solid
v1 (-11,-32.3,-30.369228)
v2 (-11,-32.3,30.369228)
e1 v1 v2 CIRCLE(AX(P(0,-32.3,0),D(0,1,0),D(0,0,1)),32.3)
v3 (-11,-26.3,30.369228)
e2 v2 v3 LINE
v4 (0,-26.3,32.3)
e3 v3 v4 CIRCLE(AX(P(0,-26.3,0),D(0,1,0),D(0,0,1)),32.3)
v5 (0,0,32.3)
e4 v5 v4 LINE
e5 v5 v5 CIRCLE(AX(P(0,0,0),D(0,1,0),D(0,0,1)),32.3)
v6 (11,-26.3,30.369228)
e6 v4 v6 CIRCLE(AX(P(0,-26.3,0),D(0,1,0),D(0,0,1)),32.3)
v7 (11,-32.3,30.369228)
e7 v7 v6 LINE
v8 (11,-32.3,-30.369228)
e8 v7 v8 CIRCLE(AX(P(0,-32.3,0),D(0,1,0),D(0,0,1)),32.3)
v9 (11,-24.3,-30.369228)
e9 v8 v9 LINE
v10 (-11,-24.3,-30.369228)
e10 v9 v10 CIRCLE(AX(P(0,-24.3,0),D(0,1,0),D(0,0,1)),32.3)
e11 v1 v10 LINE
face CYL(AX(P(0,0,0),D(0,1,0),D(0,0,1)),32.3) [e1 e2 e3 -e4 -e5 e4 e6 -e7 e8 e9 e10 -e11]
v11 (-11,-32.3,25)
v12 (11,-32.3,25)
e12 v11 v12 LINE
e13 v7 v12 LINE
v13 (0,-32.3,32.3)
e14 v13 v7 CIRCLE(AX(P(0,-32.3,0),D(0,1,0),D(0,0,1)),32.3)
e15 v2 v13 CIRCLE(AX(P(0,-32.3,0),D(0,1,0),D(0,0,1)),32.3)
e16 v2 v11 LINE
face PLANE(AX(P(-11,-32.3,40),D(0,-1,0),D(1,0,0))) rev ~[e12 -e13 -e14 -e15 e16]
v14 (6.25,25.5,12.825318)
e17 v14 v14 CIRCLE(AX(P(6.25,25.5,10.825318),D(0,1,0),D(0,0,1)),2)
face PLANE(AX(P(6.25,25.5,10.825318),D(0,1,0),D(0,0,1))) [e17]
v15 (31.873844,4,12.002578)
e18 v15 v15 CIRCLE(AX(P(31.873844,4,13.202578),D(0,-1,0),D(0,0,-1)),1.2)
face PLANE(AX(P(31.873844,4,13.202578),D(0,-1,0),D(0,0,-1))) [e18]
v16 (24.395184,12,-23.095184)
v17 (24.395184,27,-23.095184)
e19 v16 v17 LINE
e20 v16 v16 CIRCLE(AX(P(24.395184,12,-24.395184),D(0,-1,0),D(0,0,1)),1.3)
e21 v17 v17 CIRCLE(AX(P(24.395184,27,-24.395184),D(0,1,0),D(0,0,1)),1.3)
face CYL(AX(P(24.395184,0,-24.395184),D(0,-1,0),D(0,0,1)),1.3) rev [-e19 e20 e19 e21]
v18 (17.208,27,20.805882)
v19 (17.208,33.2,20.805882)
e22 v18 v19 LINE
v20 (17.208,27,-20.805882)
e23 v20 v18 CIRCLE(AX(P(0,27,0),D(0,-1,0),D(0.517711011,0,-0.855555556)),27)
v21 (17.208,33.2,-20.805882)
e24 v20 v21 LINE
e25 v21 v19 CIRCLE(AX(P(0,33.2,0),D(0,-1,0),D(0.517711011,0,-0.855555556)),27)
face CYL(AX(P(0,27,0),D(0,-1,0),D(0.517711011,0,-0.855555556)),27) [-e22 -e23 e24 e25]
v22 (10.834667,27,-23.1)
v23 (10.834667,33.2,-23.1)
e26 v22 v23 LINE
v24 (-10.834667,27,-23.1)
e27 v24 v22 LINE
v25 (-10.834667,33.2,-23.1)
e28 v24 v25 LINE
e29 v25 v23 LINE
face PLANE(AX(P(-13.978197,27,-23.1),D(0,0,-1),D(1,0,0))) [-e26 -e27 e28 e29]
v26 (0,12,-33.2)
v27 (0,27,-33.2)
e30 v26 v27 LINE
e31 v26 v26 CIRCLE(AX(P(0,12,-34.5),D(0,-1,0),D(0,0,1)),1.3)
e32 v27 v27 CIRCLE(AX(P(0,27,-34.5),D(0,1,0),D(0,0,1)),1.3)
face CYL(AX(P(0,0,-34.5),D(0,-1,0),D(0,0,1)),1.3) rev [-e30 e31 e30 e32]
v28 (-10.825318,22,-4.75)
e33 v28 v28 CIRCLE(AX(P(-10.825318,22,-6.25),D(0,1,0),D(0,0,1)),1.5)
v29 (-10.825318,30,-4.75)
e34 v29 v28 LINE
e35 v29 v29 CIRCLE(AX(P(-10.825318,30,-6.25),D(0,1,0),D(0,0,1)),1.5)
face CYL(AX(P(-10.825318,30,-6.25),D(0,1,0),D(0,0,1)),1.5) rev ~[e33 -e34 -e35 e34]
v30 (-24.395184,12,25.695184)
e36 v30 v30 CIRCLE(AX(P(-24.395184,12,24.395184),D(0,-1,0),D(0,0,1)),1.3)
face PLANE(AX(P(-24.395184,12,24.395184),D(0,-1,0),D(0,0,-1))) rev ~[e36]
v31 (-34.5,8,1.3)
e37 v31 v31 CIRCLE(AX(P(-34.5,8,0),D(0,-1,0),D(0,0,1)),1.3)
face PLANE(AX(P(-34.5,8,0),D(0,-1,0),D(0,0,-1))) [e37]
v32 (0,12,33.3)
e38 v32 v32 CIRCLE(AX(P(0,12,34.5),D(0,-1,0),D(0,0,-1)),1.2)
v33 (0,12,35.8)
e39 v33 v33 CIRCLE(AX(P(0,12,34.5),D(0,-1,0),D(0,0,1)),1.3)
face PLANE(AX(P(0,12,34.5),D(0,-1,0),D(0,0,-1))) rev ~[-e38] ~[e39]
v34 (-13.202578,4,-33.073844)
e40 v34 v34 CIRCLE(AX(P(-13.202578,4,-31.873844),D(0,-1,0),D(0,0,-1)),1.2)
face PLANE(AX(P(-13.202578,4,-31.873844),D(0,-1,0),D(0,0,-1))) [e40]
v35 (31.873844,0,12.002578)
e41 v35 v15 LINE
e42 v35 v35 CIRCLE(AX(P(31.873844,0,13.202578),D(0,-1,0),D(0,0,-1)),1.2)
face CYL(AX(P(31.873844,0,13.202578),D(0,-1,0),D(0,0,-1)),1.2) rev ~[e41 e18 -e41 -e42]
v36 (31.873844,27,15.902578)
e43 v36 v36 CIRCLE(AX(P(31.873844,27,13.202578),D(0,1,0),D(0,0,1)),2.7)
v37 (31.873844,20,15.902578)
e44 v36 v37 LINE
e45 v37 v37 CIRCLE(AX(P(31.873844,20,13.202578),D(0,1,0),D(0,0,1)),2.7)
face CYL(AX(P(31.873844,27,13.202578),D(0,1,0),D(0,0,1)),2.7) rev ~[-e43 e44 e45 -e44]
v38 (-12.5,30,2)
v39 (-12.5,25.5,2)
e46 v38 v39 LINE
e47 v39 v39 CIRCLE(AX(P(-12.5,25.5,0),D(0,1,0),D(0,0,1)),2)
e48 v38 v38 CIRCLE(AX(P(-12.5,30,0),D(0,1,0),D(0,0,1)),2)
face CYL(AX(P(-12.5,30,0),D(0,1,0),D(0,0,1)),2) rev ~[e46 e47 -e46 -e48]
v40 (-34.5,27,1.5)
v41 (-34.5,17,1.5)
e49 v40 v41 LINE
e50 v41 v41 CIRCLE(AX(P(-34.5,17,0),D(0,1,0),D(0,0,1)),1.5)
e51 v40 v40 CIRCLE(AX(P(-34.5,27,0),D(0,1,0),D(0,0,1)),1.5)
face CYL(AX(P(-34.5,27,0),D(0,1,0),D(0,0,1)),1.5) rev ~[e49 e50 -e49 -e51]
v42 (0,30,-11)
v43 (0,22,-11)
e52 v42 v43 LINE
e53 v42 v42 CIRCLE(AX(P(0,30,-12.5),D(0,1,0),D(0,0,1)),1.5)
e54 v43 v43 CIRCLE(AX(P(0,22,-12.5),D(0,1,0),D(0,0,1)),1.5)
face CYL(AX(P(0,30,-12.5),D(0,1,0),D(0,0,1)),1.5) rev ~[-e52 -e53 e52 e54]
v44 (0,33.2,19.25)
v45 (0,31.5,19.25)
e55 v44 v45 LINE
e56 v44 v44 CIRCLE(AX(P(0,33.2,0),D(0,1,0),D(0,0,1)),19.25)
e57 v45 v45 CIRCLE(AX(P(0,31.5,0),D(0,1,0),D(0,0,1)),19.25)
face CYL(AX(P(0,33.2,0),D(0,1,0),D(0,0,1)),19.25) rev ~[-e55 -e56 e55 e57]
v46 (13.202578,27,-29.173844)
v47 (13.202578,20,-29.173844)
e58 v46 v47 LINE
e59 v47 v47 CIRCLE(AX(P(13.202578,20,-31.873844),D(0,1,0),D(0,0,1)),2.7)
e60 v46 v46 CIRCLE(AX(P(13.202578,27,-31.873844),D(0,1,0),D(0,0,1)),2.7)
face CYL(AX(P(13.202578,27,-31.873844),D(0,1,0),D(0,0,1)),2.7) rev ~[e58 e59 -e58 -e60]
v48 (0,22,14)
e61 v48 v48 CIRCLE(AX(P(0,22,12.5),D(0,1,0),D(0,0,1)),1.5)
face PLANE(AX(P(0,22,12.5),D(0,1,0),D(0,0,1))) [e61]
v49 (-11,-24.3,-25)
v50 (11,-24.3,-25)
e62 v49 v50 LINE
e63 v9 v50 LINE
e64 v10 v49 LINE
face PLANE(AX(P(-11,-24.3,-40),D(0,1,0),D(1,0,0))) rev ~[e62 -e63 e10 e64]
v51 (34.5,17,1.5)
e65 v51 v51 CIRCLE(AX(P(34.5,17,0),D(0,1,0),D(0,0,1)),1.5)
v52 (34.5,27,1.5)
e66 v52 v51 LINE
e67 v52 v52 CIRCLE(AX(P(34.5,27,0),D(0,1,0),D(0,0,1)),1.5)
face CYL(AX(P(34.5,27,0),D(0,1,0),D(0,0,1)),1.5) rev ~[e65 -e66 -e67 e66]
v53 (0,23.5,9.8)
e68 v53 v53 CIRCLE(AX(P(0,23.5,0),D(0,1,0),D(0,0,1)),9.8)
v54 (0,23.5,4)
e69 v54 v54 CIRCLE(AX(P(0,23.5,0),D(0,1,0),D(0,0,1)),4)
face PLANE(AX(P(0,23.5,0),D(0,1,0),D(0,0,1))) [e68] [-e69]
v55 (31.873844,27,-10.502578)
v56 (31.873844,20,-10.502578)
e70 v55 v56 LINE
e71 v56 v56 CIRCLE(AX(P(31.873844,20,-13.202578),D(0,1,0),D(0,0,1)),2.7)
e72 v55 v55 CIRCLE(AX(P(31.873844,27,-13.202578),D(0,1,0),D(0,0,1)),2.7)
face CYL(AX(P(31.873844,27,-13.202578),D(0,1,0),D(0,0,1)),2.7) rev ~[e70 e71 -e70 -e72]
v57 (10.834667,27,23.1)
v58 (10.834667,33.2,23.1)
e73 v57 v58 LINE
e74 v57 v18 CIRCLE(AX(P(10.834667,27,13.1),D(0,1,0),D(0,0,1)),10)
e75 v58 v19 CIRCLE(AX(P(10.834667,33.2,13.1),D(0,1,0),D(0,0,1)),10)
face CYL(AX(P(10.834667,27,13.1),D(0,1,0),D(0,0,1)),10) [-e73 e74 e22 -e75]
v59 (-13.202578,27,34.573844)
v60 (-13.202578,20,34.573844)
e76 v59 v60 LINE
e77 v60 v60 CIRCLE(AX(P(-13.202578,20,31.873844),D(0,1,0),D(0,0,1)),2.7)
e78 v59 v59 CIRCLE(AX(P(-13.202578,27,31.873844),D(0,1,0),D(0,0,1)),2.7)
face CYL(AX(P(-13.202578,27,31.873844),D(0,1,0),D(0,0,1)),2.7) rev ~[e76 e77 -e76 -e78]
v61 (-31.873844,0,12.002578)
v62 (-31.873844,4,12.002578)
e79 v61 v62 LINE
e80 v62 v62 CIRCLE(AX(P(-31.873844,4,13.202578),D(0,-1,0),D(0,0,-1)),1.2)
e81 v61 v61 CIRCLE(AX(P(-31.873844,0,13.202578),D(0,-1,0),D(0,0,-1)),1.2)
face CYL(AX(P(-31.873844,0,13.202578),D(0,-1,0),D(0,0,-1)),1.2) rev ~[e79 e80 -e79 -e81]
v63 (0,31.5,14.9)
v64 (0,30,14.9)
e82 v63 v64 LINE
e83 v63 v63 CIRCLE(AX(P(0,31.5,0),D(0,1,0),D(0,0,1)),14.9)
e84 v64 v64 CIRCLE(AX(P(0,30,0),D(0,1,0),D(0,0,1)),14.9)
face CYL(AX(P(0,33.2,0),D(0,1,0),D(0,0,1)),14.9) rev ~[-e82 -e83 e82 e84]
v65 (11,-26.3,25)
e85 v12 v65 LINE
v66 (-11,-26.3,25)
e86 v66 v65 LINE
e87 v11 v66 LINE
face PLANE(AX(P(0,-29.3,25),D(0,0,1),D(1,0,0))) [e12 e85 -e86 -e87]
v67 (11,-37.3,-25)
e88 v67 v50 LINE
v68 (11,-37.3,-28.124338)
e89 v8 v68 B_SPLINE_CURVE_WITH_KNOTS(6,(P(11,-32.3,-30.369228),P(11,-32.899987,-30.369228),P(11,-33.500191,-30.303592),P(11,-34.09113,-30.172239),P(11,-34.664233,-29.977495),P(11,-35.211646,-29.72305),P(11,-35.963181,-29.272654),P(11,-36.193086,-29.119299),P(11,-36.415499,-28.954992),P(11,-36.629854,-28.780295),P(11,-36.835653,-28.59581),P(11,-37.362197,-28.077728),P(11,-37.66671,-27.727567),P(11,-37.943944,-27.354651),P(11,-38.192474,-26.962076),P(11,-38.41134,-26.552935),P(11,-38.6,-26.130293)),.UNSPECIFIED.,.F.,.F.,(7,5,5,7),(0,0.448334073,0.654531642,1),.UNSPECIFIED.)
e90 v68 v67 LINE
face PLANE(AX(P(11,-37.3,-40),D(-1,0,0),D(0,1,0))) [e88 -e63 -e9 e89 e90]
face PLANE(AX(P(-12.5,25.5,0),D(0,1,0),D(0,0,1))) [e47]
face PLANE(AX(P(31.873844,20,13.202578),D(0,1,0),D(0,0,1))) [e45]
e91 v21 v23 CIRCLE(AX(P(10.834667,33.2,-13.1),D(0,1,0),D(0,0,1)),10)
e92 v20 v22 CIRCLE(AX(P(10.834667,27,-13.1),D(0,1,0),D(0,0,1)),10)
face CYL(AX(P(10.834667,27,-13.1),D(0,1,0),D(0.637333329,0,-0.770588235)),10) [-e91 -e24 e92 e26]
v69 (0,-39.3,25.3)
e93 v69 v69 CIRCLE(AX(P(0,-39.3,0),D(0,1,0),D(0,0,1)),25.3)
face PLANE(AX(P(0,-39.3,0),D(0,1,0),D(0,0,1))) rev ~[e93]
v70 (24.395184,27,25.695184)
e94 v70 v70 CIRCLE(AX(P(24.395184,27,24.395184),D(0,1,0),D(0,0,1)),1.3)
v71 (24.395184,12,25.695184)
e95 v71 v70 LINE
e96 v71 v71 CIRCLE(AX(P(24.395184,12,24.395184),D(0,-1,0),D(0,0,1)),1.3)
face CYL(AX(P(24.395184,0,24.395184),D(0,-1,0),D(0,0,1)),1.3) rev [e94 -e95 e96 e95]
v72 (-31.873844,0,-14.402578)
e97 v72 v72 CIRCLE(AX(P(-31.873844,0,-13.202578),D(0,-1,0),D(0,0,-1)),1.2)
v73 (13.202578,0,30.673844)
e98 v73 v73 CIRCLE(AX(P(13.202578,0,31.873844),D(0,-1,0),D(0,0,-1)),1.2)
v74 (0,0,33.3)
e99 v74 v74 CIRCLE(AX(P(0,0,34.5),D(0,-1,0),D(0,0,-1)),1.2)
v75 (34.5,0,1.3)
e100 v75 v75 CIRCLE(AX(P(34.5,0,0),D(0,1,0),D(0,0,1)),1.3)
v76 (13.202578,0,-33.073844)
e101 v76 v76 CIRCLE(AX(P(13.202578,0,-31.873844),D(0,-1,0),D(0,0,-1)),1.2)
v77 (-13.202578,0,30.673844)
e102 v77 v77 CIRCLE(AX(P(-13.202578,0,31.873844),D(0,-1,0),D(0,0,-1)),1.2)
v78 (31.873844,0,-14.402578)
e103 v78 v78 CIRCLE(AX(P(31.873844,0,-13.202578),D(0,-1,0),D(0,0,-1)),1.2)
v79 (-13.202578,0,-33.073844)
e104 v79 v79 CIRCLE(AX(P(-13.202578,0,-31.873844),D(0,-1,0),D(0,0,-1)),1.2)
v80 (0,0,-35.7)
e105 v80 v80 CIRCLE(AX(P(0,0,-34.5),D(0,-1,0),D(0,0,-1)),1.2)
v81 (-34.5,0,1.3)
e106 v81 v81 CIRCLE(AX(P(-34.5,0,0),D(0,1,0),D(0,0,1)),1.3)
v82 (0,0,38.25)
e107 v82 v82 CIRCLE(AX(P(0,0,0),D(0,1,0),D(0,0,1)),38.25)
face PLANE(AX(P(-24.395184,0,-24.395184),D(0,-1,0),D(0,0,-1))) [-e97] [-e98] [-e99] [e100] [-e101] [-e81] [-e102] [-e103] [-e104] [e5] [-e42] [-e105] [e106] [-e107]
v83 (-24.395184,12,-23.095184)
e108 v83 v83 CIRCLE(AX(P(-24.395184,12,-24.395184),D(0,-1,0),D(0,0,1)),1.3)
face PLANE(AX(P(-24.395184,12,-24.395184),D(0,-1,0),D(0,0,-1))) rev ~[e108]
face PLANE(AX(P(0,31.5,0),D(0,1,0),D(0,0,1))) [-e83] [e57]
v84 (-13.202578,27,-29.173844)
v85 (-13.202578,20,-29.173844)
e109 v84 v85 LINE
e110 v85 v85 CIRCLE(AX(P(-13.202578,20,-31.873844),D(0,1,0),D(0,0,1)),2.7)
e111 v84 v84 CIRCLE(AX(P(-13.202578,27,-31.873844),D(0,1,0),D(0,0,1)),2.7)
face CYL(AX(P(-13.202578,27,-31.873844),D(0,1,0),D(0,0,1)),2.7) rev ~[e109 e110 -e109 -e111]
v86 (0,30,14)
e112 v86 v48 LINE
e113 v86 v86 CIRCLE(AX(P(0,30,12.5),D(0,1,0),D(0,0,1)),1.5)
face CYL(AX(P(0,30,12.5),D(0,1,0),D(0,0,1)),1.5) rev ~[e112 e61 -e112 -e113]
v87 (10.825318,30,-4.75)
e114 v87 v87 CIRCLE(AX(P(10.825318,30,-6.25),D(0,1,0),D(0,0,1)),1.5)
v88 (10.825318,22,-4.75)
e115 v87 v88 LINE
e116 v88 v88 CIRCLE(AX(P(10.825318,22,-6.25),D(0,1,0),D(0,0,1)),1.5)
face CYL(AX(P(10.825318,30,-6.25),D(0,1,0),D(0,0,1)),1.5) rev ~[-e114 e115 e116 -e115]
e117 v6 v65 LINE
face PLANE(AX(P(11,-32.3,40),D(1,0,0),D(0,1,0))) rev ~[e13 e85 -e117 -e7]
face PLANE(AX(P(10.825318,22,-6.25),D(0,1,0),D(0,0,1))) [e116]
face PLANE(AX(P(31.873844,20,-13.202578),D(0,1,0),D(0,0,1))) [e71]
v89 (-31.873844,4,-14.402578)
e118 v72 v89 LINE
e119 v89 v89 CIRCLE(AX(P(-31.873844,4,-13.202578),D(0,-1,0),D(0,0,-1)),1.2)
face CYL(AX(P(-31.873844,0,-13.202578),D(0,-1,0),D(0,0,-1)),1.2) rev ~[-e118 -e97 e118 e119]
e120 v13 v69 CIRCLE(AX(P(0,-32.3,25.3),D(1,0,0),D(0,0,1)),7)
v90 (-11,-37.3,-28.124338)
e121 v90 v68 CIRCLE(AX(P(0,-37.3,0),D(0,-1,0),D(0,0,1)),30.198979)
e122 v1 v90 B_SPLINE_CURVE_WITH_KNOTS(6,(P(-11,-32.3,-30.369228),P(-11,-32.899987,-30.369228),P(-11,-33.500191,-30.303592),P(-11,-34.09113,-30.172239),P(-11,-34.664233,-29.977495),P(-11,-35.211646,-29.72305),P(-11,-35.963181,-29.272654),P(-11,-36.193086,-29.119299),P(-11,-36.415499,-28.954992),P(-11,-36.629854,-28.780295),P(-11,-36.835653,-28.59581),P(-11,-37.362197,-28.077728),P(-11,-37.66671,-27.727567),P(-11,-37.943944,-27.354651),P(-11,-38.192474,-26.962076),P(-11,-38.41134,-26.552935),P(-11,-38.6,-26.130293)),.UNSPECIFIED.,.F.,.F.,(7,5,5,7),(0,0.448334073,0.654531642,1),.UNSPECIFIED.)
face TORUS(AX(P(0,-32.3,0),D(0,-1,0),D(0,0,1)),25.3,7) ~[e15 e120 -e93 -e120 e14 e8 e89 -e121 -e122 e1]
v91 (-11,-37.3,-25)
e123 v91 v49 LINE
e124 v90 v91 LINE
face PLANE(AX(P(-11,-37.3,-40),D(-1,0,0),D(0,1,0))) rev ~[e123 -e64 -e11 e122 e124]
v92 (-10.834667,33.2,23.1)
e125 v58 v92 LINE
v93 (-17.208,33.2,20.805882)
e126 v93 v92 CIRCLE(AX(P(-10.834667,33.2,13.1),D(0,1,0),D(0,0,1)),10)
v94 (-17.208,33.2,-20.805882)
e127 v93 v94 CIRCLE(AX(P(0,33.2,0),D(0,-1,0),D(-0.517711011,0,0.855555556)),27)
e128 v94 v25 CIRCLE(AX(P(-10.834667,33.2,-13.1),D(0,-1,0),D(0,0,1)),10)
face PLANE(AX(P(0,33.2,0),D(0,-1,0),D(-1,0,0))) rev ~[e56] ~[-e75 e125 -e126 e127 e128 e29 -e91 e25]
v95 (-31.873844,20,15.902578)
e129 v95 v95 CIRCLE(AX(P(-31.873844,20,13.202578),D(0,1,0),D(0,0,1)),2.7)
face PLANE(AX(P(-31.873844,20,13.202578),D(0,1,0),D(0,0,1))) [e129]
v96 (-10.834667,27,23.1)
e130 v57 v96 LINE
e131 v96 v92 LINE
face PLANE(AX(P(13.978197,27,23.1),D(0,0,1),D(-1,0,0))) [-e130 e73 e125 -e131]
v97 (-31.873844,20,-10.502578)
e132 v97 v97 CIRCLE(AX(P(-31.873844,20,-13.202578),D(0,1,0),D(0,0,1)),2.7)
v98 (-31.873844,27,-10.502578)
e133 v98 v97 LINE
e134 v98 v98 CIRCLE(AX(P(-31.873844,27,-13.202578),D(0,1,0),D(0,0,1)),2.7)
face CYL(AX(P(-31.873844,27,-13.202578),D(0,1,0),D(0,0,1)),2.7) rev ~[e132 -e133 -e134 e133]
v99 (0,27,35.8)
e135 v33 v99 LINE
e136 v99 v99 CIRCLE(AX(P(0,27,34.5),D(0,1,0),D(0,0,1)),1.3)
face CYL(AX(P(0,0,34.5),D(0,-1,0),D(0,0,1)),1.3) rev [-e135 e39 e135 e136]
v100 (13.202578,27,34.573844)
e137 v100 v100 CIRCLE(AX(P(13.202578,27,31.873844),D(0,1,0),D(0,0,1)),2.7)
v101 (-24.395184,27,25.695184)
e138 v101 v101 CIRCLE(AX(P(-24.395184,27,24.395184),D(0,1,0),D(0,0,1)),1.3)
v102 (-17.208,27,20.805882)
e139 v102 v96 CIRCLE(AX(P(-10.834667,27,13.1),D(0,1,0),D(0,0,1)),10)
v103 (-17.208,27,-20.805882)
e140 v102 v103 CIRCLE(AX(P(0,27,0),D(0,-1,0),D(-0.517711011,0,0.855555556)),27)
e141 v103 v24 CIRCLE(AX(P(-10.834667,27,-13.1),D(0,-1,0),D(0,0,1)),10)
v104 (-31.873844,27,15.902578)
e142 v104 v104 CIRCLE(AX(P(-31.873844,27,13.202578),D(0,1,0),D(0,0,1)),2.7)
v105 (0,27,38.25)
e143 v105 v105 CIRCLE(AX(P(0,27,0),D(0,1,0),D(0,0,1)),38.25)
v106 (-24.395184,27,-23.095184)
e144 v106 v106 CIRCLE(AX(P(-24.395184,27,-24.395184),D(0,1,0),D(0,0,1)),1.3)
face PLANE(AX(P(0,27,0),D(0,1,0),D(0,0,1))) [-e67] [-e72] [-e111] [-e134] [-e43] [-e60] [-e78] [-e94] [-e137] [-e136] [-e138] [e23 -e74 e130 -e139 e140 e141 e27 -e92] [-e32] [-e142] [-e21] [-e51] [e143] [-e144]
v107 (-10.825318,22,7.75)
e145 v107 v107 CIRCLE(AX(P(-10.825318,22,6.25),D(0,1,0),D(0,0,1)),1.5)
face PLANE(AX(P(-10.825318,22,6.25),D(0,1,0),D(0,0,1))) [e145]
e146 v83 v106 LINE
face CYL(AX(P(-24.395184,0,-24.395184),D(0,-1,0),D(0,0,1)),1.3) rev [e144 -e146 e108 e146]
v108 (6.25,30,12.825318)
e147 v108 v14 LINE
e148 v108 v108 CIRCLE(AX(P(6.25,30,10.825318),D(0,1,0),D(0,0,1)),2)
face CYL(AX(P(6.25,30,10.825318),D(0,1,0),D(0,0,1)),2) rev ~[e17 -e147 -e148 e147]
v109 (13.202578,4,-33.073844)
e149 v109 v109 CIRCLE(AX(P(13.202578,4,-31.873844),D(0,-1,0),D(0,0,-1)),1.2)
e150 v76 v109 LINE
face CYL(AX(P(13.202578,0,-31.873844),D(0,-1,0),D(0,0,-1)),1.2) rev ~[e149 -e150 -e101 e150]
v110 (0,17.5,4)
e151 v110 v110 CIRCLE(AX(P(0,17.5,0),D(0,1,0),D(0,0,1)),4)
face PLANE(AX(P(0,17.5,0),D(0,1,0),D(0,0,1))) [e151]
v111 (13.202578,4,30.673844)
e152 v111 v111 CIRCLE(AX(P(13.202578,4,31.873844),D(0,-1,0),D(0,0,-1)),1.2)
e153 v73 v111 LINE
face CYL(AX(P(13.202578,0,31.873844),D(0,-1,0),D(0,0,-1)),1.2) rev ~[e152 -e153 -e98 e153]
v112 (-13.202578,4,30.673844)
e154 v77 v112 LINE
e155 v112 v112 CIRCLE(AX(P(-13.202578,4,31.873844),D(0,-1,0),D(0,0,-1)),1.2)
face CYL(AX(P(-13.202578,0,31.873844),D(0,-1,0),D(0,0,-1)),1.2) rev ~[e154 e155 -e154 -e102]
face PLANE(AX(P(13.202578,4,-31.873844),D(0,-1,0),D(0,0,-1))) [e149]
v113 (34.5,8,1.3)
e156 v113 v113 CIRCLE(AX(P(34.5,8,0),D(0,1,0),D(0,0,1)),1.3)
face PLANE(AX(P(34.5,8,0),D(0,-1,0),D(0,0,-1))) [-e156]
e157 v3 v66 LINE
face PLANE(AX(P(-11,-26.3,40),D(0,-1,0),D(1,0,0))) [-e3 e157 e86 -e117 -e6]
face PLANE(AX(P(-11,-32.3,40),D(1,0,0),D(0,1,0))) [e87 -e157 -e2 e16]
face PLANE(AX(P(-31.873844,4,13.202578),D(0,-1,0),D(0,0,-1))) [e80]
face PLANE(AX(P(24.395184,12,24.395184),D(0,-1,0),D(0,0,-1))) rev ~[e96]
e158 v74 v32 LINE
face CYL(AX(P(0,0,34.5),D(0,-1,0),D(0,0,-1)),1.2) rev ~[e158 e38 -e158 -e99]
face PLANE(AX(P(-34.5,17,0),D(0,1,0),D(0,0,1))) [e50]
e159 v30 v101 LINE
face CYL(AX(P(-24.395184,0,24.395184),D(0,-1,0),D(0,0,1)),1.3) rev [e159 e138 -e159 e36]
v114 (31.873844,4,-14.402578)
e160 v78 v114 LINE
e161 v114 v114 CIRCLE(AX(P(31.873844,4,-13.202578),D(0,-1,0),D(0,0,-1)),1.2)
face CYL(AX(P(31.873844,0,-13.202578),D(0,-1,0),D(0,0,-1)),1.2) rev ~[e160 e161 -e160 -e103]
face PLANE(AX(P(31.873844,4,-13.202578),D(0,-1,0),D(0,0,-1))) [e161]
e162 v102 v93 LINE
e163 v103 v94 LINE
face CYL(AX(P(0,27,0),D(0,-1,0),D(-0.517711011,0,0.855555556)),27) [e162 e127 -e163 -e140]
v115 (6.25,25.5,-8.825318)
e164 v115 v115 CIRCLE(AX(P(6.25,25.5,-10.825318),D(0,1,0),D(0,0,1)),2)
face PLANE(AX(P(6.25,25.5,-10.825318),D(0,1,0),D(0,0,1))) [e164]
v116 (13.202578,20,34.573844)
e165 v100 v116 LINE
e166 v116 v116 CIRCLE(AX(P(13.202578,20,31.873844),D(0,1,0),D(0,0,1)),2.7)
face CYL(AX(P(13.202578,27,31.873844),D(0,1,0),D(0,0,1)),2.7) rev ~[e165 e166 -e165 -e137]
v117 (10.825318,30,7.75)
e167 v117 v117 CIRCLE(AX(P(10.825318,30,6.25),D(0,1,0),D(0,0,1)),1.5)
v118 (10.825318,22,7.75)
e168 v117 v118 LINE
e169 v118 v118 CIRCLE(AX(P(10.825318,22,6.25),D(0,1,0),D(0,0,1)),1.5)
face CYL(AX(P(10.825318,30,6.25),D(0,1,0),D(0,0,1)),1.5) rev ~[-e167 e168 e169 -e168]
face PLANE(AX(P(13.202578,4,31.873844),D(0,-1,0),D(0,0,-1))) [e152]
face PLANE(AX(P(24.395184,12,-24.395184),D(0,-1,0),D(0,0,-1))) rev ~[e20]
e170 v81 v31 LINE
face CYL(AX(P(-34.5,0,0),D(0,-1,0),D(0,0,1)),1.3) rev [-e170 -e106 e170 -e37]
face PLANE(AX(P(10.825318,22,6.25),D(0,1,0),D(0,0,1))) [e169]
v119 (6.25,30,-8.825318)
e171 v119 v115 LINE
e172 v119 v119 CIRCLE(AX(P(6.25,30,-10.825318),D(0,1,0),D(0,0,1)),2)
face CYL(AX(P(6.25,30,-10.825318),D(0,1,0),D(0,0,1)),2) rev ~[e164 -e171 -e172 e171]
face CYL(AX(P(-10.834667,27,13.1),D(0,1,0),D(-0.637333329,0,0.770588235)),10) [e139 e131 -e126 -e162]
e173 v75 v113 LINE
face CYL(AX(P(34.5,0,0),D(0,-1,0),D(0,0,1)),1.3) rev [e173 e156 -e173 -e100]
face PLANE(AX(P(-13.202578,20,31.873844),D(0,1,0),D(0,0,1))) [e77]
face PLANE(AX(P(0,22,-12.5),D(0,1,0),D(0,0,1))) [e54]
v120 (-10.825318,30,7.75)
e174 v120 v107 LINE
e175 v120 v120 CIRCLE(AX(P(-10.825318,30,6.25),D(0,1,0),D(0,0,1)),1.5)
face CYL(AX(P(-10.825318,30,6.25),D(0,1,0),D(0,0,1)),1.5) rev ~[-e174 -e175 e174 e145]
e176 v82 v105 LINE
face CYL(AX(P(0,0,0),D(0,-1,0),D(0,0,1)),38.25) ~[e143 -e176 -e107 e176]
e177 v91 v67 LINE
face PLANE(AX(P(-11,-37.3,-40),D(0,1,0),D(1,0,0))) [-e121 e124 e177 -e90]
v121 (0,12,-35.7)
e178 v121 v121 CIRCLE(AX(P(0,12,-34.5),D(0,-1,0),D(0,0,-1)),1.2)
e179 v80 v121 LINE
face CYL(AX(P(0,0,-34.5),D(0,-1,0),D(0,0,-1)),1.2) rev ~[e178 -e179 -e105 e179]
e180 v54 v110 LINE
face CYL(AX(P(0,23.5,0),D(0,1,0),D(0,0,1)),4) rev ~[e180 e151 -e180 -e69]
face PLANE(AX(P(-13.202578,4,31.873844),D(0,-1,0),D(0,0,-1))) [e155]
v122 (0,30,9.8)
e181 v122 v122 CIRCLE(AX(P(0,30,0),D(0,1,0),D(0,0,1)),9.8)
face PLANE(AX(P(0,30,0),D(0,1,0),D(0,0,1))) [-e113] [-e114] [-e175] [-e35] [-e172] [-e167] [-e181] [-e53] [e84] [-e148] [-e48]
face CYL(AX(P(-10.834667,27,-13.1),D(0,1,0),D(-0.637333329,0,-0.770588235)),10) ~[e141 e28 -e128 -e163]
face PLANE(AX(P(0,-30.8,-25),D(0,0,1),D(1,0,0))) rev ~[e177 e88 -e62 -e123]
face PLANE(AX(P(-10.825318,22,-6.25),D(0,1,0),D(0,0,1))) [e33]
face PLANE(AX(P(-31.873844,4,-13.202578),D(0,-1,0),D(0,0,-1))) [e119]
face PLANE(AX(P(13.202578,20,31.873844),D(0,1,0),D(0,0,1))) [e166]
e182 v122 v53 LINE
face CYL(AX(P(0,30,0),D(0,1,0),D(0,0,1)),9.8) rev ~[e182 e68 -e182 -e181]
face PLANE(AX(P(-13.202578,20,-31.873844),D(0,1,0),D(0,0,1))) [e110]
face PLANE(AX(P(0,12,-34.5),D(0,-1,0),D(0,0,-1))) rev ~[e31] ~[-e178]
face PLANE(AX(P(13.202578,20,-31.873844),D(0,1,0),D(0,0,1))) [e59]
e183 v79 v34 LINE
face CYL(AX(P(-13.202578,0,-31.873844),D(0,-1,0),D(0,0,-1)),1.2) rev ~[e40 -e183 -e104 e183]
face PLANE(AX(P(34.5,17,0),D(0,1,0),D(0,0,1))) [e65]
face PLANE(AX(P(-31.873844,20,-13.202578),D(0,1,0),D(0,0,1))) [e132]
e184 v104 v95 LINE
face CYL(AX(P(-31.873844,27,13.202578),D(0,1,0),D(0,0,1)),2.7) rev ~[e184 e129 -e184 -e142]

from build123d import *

# Parameters (mm, degrees)
SKETCH_2_R           = 38.25
SKETCH_2_R_2         = 1.3
EXTRUDE_1_DEPTH      = 27
EXTRUDE_2_DEPTH      = 6.2
SKETCH_4_R           = 19.25
CUT_EXTRUDE_1_DEPTH  = 1.7
SKETCH_5_R           = 14.9
CUT_EXTRUDE_2_DEPTH  = 3.2
SKETCH_6_R           = 1.5
CUT_EXTRUDE_3_DEPTH  = 8
SKETCH_7_R           = 2
CUT_EXTRUDE_4_DEPTH  = 4.5
SKETCH_8_R           = 32.3
EXTRUDE_3_DEPTH      = 39.3
FILLET_1_R           = 7
FILLET_2_R           = 10
SKETCH_9_W           = 22
SKETCH_9_H           = 6
CUT_EXTRUDE_5_DEPTH  = 15
SKETCH_10_W          = 22
SKETCH_10_H          = 13
CUT_EXTRUDE_6_DEPTH  = 15
SKETCH_12_R          = 9.8
CUT_EXTRUDE_7_DEPTH  = 6.5
SKETCH_13_R          = 4
CUT_EXTRUDE_8_DEPTH  = 6
SKETCH_14_R          = 2.7
CUT_EXTRUDE_9_DEPTH  = 7
SKETCH_15_R          = 1.2
CUT_EXTRUDE_10_DEPTH = 4
SKETCH_16_R          = 1.3
SKETCH_16_R_2        = 1.2
EXTRUDE_4_DEPTH      = 12
SKETCH_18_R          = 1.3
EXTRUDE_5_DEPTH      = 9
SKETCH_19_R          = 1.5
CUT_EXTRUDE_11_DEPTH = 10


with BuildPart() as part:
    # 草图2 → 凸台-拉伸1 (new body)
    with BuildSketch(Plane(origin=(0, 0, 0), x_dir=(1, 0, 0), z_dir=(0, 1, 0))):
        with Locations(Location((0, 0, 0), (0, 0, 270))):
            Circle(SKETCH_2_R)
        with Locations(Location((0, 34.5, 0), (0, 0, 270))):
            Circle(SKETCH_2_R_2, mode=Mode.SUBTRACT)
        with Locations(Location((-24.395183951, 24.395183951, 0), (0, 0, 270))):
            Circle(SKETCH_2_R_2, mode=Mode.SUBTRACT)
        with Locations(Location((-34.5, 0, 0), (0, 0, 270))):
            Circle(SKETCH_2_R_2, mode=Mode.SUBTRACT)
        with Locations(Location((-24.395183951, -24.395183951, 0), (0, 0, 270))):
            Circle(SKETCH_2_R_2, mode=Mode.SUBTRACT)
        with Locations(Location((0, -34.5, 0), (0, 0, 270))):
            Circle(SKETCH_2_R_2, mode=Mode.SUBTRACT)
        with Locations(Location((24.395183951, -24.395183951, 0), (0, 0, 270))):
            Circle(SKETCH_2_R_2, mode=Mode.SUBTRACT)
        with Locations(Location((34.5, 0, 0), (0, 0, 270))):
            Circle(SKETCH_2_R_2, mode=Mode.SUBTRACT)
        with Locations(Location((24.395183951, 24.395183951, 0), (0, 0, 270))):
            Circle(SKETCH_2_R_2, mode=Mode.SUBTRACT)
    extrude(amount=EXTRUDE_1_DEPTH)

    # 草图3 → 凸台-拉伸2 (add)
    with BuildSketch(Plane(origin=(0, 27, 0), x_dir=(1, 0, 0), z_dir=(0, 1, 0))):
        with BuildLine():
            Line((-13.978197309, 23.1), (13.978197309, 23.1))
            ThreePointArc((13.978197309, 23.1), (27, 0), (13.978197309, -23.1))
            Line((13.978197309, -23.1), (-13.978197309, -23.1))
            ThreePointArc((-13.978197309, -23.1), (-27, 0), (-13.978197309, 23.1))
        make_face()
    extrude(amount=EXTRUDE_2_DEPTH)

    # 草图4 → 切除-拉伸1 (cut)
    with BuildSketch(Plane(origin=(0, 33.2, 0), x_dir=(1, 0, 0), z_dir=(0, 1, 0))):
        with Locations(Location((0, 0, 0), (0, 0, 270))):
            Circle(SKETCH_4_R)
    extrude(amount=-CUT_EXTRUDE_1_DEPTH, mode=Mode.SUBTRACT)

    # 草图5 → 切除-拉伸2 (cut)
    with BuildSketch(Plane(origin=(0, 33.2, 0), x_dir=(1, 0, 0), z_dir=(0, 1, 0))):
        with Locations(Location((0, 0, 0), (0, 0, 270))):
            Circle(SKETCH_5_R)
    extrude(amount=-CUT_EXTRUDE_2_DEPTH, mode=Mode.SUBTRACT)

    # 草图6 → 切除-拉伸3 (cut)
    with BuildSketch(Plane(origin=(0, 30, 0), x_dir=(1, 0, 0), z_dir=(0, 1, 0))):
        with Locations(Location((0, -12.5, 0), (0, 0, 270))):
            Circle(SKETCH_6_R)
        with Locations(Location((10.825317547, -6.25, 0), (0, 0, 270))):
            Circle(SKETCH_6_R)
        with Locations(Location((10.825317547, 6.25, 0), (0, 0, 270))):
            Circle(SKETCH_6_R)
        with Locations(Location((-10.825317547, -6.25, 0), (0, 0, 270))):
            Circle(SKETCH_6_R)
        with Locations(Location((-10.825317547, 6.25, 0), (0, 0, 270))):
            Circle(SKETCH_6_R)
        with Locations(Location((0, 12.5, 0), (0, 0, 270))):
            Circle(SKETCH_6_R)
    extrude(amount=-CUT_EXTRUDE_3_DEPTH, mode=Mode.SUBTRACT)

    # 草图7 → 切除-拉伸4 (cut)
    with BuildSketch(Plane(origin=(0, 30, 0), x_dir=(1, 0, 0), z_dir=(0, 1, 0))):
        with Locations(Location((-12.5, 0, 0), (0, 0, 270))):
            Circle(SKETCH_7_R)
        with Locations(Location((6.25, -10.825317547, 0), (0, 0, 270))):
            Circle(SKETCH_7_R)
        with Locations(Location((6.25, 10.825317547, 0), (0, 0, 270))):
            Circle(SKETCH_7_R)
    extrude(amount=-CUT_EXTRUDE_4_DEPTH, mode=Mode.SUBTRACT)

    # 草图8 → 凸台-拉伸3 (add)
    with BuildSketch(Plane(origin=(0, 0, 0), x_dir=(1, 0, 0), z_dir=(0, 1, 0))):
        with Locations(Location((0, 0, 0), (0, 0, 270))):
            Circle(SKETCH_8_R)
    extrude(amount=-EXTRUDE_3_DEPTH)

    # 圆角1
    fillet_1_edges = [part.edges().sort_by_distance(p)[0] for p in [
        (0, -39.3, -32.3),
    ]]
    fillet(fillet_1_edges, radius=FILLET_1_R)

    # 圆角2
    fillet_2_edges = [part.edges().sort_by_distance(p)[0] for p in [
        (-13.978197309, 30.1, -23.1),
        (-13.978197309, 30.1, 23.1),
        (13.978197309, 30.1, 23.1),
        (13.978197309, 30.1, -23.1),
    ]]
    fillet(fillet_2_edges, radius=FILLET_2_R)

    # 草图9 → 切除-拉伸5 (cut)
    with BuildSketch(Plane.XY.offset(40)):
        with Locations((0, -29.3)):
            Rectangle(SKETCH_9_W, SKETCH_9_H)
    extrude(amount=-CUT_EXTRUDE_5_DEPTH, mode=Mode.SUBTRACT)

    # 草图10 → 切除-拉伸6 (cut)
    with BuildSketch(Plane.XY.offset(-40)):
        with Locations((0, -30.8)):
            Rectangle(SKETCH_10_W, SKETCH_10_H)
    extrude(amount=CUT_EXTRUDE_6_DEPTH, mode=Mode.SUBTRACT)

    # 草图12 → 切除-拉伸7 (cut)
    with BuildSketch(Plane(origin=(0, 30, 0), x_dir=(1, 0, 0), z_dir=(0, 1, 0))):
        with Locations(Location((0, 0, 0), (0, 0, 270))):
            Circle(SKETCH_12_R)
    extrude(amount=-CUT_EXTRUDE_7_DEPTH, mode=Mode.SUBTRACT)

    # 草图13 → 切除-拉伸8 (cut)
    with BuildSketch(Plane(origin=(0, 23.5, 0), x_dir=(1, 0, 0), z_dir=(0, 1, 0))):
        with Locations(Location((0, 0, 0), (0, 0, 270))):
            Circle(SKETCH_13_R)
    extrude(amount=-CUT_EXTRUDE_8_DEPTH, mode=Mode.SUBTRACT)

    # 草图14 → 切除-拉伸9 (cut)
    with BuildSketch(Plane(origin=(0, 27, 0), x_dir=(1, 0, 0), z_dir=(0, 1, 0))):
        with Locations(Location((31.873843872, 13.202578417, 0), (0, 0, 270))):
            Circle(SKETCH_14_R)
        with Locations(Location((31.873843872, -13.202578417, 0), (0, 0, 270))):
            Circle(SKETCH_14_R)
        with Locations(Location((13.202578417, -31.873843872, 0), (0, 0, 270))):
            Circle(SKETCH_14_R)
        with Locations(Location((-13.202578417, -31.873843872, 0), (0, 0, 270))):
            Circle(SKETCH_14_R)
        with Locations(Location((-31.873843872, -13.202578417, 0), (0, 0, 270))):
            Circle(SKETCH_14_R)
        with Locations(Location((-31.873843872, 13.202578417, 0), (0, 0, 270))):
            Circle(SKETCH_14_R)
        with Locations(Location((-13.202578417, 31.873843872, 0), (0, 0, 270))):
            Circle(SKETCH_14_R)
        with Locations(Location((13.202578417, 31.873843872, 0), (0, 0, 270))):
            Circle(SKETCH_14_R)
    extrude(amount=-CUT_EXTRUDE_9_DEPTH, mode=Mode.SUBTRACT)

    # 草图15 → 切除-拉伸10 (cut)
    with BuildSketch(Plane.XZ):
        with Locations(Location((13.202578417, 31.873843872, 0), (0, 0, 270))):
            Circle(SKETCH_15_R)
        with Locations(Location((-13.202578417, 31.873843872, 0), (0, 0, 270))):
            Circle(SKETCH_15_R)
        with Locations(Location((-31.873843872, 13.202578417, 0), (0, 0, 270))):
            Circle(SKETCH_15_R)
        with Locations(Location((-31.873843872, -13.202578417, 0), (0, 0, 270))):
            Circle(SKETCH_15_R)
        with Locations(Location((-13.202578417, -31.873843872, 0), (0, 0, 270))):
            Circle(SKETCH_15_R)
        with Locations(Location((13.202578417, -31.873843872, 0), (0, 0, 270))):
            Circle(SKETCH_15_R)
        with Locations(Location((31.873843872, -13.202578417, 0), (0, 0, 270))):
            Circle(SKETCH_15_R)
        with Locations(Location((31.873843872, 13.202578417, 0), (0, 0, 270))):
            Circle(SKETCH_15_R)
    extrude(amount=-CUT_EXTRUDE_10_DEPTH, mode=Mode.SUBTRACT)

    # 草图16 → 凸台-拉伸4 (add)
    # profile 1 of 6: a face of its own
    with BuildSketch(Plane.XZ):
        with Locations(Location((-24.395183951, -24.395183951, 0), (0, 0, 270))):
            Circle(SKETCH_16_R)
    # profile 2 of 6: a face of its own
    with BuildSketch(Plane.XZ):
        with Locations(Location((0, -34.5, 0), (0, 0, 270))):
            Circle(SKETCH_16_R)
        with Locations(Location((0, -34.5, 0), (0, 0, 270))):
            Circle(SKETCH_16_R_2, mode=Mode.SUBTRACT)
    # profile 3 of 6: a face of its own
    with BuildSketch(Plane.XZ):
        with Locations(Location((24.395183951, -24.395183951, 0), (0, 0, 270))):
            Circle(SKETCH_16_R)
    # profile 4 of 6: a face of its own
    with BuildSketch(Plane.XZ):
        with Locations(Location((24.395183951, 24.395183951, 0), (0, 0, 270))):
            Circle(SKETCH_16_R)
    # profile 5 of 6: a face of its own
    with BuildSketch(Plane.XZ):
        with Locations(Location((0, 34.5, 0), (0, 0, 270))):
            Circle(SKETCH_16_R)
        with Locations(Location((0, 34.5, 0), (0, 0, 270))):
            Circle(SKETCH_16_R_2, mode=Mode.SUBTRACT)
    # profile 6 of 6: a face of its own
    with BuildSketch(Plane.XZ):
        with Locations(Location((-24.395183951, 24.395183951, 0), (0, 0, 270))):
            Circle(SKETCH_16_R)
    extrude(amount=-EXTRUDE_4_DEPTH)

    # 草图18 → 凸台-拉伸5 (add)
    with BuildSketch(Plane(origin=(0, 8, 0), x_dir=(-1, 0, 0), z_dir=(0, -1, 0))):
        with Locations(Location((34.5, 0, 0), (0, 0, 90))):
            Circle(SKETCH_18_R)
        with Locations(Location((-34.5, 0, 0), (0, 0, 90))):
            Circle(SKETCH_18_R)
    extrude(amount=-EXTRUDE_5_DEPTH)

    # 草图19 → 切除-拉伸11 (cut)
    with BuildSketch(Plane(origin=(0, 27, 0), x_dir=(1, 0, 0), z_dir=(0, 1, 0))):
        with Locations(Location((-34.5, 0, 0), (0, 0, 270))):
            Circle(SKETCH_19_R)
        with Locations(Location((34.5, 0, 0), (0, 0, 270))):
            Circle(SKETCH_19_R)
    extrude(amount=-CUT_EXTRUDE_11_DEPTH, mode=Mode.SUBTRACT)


solid = part.part
